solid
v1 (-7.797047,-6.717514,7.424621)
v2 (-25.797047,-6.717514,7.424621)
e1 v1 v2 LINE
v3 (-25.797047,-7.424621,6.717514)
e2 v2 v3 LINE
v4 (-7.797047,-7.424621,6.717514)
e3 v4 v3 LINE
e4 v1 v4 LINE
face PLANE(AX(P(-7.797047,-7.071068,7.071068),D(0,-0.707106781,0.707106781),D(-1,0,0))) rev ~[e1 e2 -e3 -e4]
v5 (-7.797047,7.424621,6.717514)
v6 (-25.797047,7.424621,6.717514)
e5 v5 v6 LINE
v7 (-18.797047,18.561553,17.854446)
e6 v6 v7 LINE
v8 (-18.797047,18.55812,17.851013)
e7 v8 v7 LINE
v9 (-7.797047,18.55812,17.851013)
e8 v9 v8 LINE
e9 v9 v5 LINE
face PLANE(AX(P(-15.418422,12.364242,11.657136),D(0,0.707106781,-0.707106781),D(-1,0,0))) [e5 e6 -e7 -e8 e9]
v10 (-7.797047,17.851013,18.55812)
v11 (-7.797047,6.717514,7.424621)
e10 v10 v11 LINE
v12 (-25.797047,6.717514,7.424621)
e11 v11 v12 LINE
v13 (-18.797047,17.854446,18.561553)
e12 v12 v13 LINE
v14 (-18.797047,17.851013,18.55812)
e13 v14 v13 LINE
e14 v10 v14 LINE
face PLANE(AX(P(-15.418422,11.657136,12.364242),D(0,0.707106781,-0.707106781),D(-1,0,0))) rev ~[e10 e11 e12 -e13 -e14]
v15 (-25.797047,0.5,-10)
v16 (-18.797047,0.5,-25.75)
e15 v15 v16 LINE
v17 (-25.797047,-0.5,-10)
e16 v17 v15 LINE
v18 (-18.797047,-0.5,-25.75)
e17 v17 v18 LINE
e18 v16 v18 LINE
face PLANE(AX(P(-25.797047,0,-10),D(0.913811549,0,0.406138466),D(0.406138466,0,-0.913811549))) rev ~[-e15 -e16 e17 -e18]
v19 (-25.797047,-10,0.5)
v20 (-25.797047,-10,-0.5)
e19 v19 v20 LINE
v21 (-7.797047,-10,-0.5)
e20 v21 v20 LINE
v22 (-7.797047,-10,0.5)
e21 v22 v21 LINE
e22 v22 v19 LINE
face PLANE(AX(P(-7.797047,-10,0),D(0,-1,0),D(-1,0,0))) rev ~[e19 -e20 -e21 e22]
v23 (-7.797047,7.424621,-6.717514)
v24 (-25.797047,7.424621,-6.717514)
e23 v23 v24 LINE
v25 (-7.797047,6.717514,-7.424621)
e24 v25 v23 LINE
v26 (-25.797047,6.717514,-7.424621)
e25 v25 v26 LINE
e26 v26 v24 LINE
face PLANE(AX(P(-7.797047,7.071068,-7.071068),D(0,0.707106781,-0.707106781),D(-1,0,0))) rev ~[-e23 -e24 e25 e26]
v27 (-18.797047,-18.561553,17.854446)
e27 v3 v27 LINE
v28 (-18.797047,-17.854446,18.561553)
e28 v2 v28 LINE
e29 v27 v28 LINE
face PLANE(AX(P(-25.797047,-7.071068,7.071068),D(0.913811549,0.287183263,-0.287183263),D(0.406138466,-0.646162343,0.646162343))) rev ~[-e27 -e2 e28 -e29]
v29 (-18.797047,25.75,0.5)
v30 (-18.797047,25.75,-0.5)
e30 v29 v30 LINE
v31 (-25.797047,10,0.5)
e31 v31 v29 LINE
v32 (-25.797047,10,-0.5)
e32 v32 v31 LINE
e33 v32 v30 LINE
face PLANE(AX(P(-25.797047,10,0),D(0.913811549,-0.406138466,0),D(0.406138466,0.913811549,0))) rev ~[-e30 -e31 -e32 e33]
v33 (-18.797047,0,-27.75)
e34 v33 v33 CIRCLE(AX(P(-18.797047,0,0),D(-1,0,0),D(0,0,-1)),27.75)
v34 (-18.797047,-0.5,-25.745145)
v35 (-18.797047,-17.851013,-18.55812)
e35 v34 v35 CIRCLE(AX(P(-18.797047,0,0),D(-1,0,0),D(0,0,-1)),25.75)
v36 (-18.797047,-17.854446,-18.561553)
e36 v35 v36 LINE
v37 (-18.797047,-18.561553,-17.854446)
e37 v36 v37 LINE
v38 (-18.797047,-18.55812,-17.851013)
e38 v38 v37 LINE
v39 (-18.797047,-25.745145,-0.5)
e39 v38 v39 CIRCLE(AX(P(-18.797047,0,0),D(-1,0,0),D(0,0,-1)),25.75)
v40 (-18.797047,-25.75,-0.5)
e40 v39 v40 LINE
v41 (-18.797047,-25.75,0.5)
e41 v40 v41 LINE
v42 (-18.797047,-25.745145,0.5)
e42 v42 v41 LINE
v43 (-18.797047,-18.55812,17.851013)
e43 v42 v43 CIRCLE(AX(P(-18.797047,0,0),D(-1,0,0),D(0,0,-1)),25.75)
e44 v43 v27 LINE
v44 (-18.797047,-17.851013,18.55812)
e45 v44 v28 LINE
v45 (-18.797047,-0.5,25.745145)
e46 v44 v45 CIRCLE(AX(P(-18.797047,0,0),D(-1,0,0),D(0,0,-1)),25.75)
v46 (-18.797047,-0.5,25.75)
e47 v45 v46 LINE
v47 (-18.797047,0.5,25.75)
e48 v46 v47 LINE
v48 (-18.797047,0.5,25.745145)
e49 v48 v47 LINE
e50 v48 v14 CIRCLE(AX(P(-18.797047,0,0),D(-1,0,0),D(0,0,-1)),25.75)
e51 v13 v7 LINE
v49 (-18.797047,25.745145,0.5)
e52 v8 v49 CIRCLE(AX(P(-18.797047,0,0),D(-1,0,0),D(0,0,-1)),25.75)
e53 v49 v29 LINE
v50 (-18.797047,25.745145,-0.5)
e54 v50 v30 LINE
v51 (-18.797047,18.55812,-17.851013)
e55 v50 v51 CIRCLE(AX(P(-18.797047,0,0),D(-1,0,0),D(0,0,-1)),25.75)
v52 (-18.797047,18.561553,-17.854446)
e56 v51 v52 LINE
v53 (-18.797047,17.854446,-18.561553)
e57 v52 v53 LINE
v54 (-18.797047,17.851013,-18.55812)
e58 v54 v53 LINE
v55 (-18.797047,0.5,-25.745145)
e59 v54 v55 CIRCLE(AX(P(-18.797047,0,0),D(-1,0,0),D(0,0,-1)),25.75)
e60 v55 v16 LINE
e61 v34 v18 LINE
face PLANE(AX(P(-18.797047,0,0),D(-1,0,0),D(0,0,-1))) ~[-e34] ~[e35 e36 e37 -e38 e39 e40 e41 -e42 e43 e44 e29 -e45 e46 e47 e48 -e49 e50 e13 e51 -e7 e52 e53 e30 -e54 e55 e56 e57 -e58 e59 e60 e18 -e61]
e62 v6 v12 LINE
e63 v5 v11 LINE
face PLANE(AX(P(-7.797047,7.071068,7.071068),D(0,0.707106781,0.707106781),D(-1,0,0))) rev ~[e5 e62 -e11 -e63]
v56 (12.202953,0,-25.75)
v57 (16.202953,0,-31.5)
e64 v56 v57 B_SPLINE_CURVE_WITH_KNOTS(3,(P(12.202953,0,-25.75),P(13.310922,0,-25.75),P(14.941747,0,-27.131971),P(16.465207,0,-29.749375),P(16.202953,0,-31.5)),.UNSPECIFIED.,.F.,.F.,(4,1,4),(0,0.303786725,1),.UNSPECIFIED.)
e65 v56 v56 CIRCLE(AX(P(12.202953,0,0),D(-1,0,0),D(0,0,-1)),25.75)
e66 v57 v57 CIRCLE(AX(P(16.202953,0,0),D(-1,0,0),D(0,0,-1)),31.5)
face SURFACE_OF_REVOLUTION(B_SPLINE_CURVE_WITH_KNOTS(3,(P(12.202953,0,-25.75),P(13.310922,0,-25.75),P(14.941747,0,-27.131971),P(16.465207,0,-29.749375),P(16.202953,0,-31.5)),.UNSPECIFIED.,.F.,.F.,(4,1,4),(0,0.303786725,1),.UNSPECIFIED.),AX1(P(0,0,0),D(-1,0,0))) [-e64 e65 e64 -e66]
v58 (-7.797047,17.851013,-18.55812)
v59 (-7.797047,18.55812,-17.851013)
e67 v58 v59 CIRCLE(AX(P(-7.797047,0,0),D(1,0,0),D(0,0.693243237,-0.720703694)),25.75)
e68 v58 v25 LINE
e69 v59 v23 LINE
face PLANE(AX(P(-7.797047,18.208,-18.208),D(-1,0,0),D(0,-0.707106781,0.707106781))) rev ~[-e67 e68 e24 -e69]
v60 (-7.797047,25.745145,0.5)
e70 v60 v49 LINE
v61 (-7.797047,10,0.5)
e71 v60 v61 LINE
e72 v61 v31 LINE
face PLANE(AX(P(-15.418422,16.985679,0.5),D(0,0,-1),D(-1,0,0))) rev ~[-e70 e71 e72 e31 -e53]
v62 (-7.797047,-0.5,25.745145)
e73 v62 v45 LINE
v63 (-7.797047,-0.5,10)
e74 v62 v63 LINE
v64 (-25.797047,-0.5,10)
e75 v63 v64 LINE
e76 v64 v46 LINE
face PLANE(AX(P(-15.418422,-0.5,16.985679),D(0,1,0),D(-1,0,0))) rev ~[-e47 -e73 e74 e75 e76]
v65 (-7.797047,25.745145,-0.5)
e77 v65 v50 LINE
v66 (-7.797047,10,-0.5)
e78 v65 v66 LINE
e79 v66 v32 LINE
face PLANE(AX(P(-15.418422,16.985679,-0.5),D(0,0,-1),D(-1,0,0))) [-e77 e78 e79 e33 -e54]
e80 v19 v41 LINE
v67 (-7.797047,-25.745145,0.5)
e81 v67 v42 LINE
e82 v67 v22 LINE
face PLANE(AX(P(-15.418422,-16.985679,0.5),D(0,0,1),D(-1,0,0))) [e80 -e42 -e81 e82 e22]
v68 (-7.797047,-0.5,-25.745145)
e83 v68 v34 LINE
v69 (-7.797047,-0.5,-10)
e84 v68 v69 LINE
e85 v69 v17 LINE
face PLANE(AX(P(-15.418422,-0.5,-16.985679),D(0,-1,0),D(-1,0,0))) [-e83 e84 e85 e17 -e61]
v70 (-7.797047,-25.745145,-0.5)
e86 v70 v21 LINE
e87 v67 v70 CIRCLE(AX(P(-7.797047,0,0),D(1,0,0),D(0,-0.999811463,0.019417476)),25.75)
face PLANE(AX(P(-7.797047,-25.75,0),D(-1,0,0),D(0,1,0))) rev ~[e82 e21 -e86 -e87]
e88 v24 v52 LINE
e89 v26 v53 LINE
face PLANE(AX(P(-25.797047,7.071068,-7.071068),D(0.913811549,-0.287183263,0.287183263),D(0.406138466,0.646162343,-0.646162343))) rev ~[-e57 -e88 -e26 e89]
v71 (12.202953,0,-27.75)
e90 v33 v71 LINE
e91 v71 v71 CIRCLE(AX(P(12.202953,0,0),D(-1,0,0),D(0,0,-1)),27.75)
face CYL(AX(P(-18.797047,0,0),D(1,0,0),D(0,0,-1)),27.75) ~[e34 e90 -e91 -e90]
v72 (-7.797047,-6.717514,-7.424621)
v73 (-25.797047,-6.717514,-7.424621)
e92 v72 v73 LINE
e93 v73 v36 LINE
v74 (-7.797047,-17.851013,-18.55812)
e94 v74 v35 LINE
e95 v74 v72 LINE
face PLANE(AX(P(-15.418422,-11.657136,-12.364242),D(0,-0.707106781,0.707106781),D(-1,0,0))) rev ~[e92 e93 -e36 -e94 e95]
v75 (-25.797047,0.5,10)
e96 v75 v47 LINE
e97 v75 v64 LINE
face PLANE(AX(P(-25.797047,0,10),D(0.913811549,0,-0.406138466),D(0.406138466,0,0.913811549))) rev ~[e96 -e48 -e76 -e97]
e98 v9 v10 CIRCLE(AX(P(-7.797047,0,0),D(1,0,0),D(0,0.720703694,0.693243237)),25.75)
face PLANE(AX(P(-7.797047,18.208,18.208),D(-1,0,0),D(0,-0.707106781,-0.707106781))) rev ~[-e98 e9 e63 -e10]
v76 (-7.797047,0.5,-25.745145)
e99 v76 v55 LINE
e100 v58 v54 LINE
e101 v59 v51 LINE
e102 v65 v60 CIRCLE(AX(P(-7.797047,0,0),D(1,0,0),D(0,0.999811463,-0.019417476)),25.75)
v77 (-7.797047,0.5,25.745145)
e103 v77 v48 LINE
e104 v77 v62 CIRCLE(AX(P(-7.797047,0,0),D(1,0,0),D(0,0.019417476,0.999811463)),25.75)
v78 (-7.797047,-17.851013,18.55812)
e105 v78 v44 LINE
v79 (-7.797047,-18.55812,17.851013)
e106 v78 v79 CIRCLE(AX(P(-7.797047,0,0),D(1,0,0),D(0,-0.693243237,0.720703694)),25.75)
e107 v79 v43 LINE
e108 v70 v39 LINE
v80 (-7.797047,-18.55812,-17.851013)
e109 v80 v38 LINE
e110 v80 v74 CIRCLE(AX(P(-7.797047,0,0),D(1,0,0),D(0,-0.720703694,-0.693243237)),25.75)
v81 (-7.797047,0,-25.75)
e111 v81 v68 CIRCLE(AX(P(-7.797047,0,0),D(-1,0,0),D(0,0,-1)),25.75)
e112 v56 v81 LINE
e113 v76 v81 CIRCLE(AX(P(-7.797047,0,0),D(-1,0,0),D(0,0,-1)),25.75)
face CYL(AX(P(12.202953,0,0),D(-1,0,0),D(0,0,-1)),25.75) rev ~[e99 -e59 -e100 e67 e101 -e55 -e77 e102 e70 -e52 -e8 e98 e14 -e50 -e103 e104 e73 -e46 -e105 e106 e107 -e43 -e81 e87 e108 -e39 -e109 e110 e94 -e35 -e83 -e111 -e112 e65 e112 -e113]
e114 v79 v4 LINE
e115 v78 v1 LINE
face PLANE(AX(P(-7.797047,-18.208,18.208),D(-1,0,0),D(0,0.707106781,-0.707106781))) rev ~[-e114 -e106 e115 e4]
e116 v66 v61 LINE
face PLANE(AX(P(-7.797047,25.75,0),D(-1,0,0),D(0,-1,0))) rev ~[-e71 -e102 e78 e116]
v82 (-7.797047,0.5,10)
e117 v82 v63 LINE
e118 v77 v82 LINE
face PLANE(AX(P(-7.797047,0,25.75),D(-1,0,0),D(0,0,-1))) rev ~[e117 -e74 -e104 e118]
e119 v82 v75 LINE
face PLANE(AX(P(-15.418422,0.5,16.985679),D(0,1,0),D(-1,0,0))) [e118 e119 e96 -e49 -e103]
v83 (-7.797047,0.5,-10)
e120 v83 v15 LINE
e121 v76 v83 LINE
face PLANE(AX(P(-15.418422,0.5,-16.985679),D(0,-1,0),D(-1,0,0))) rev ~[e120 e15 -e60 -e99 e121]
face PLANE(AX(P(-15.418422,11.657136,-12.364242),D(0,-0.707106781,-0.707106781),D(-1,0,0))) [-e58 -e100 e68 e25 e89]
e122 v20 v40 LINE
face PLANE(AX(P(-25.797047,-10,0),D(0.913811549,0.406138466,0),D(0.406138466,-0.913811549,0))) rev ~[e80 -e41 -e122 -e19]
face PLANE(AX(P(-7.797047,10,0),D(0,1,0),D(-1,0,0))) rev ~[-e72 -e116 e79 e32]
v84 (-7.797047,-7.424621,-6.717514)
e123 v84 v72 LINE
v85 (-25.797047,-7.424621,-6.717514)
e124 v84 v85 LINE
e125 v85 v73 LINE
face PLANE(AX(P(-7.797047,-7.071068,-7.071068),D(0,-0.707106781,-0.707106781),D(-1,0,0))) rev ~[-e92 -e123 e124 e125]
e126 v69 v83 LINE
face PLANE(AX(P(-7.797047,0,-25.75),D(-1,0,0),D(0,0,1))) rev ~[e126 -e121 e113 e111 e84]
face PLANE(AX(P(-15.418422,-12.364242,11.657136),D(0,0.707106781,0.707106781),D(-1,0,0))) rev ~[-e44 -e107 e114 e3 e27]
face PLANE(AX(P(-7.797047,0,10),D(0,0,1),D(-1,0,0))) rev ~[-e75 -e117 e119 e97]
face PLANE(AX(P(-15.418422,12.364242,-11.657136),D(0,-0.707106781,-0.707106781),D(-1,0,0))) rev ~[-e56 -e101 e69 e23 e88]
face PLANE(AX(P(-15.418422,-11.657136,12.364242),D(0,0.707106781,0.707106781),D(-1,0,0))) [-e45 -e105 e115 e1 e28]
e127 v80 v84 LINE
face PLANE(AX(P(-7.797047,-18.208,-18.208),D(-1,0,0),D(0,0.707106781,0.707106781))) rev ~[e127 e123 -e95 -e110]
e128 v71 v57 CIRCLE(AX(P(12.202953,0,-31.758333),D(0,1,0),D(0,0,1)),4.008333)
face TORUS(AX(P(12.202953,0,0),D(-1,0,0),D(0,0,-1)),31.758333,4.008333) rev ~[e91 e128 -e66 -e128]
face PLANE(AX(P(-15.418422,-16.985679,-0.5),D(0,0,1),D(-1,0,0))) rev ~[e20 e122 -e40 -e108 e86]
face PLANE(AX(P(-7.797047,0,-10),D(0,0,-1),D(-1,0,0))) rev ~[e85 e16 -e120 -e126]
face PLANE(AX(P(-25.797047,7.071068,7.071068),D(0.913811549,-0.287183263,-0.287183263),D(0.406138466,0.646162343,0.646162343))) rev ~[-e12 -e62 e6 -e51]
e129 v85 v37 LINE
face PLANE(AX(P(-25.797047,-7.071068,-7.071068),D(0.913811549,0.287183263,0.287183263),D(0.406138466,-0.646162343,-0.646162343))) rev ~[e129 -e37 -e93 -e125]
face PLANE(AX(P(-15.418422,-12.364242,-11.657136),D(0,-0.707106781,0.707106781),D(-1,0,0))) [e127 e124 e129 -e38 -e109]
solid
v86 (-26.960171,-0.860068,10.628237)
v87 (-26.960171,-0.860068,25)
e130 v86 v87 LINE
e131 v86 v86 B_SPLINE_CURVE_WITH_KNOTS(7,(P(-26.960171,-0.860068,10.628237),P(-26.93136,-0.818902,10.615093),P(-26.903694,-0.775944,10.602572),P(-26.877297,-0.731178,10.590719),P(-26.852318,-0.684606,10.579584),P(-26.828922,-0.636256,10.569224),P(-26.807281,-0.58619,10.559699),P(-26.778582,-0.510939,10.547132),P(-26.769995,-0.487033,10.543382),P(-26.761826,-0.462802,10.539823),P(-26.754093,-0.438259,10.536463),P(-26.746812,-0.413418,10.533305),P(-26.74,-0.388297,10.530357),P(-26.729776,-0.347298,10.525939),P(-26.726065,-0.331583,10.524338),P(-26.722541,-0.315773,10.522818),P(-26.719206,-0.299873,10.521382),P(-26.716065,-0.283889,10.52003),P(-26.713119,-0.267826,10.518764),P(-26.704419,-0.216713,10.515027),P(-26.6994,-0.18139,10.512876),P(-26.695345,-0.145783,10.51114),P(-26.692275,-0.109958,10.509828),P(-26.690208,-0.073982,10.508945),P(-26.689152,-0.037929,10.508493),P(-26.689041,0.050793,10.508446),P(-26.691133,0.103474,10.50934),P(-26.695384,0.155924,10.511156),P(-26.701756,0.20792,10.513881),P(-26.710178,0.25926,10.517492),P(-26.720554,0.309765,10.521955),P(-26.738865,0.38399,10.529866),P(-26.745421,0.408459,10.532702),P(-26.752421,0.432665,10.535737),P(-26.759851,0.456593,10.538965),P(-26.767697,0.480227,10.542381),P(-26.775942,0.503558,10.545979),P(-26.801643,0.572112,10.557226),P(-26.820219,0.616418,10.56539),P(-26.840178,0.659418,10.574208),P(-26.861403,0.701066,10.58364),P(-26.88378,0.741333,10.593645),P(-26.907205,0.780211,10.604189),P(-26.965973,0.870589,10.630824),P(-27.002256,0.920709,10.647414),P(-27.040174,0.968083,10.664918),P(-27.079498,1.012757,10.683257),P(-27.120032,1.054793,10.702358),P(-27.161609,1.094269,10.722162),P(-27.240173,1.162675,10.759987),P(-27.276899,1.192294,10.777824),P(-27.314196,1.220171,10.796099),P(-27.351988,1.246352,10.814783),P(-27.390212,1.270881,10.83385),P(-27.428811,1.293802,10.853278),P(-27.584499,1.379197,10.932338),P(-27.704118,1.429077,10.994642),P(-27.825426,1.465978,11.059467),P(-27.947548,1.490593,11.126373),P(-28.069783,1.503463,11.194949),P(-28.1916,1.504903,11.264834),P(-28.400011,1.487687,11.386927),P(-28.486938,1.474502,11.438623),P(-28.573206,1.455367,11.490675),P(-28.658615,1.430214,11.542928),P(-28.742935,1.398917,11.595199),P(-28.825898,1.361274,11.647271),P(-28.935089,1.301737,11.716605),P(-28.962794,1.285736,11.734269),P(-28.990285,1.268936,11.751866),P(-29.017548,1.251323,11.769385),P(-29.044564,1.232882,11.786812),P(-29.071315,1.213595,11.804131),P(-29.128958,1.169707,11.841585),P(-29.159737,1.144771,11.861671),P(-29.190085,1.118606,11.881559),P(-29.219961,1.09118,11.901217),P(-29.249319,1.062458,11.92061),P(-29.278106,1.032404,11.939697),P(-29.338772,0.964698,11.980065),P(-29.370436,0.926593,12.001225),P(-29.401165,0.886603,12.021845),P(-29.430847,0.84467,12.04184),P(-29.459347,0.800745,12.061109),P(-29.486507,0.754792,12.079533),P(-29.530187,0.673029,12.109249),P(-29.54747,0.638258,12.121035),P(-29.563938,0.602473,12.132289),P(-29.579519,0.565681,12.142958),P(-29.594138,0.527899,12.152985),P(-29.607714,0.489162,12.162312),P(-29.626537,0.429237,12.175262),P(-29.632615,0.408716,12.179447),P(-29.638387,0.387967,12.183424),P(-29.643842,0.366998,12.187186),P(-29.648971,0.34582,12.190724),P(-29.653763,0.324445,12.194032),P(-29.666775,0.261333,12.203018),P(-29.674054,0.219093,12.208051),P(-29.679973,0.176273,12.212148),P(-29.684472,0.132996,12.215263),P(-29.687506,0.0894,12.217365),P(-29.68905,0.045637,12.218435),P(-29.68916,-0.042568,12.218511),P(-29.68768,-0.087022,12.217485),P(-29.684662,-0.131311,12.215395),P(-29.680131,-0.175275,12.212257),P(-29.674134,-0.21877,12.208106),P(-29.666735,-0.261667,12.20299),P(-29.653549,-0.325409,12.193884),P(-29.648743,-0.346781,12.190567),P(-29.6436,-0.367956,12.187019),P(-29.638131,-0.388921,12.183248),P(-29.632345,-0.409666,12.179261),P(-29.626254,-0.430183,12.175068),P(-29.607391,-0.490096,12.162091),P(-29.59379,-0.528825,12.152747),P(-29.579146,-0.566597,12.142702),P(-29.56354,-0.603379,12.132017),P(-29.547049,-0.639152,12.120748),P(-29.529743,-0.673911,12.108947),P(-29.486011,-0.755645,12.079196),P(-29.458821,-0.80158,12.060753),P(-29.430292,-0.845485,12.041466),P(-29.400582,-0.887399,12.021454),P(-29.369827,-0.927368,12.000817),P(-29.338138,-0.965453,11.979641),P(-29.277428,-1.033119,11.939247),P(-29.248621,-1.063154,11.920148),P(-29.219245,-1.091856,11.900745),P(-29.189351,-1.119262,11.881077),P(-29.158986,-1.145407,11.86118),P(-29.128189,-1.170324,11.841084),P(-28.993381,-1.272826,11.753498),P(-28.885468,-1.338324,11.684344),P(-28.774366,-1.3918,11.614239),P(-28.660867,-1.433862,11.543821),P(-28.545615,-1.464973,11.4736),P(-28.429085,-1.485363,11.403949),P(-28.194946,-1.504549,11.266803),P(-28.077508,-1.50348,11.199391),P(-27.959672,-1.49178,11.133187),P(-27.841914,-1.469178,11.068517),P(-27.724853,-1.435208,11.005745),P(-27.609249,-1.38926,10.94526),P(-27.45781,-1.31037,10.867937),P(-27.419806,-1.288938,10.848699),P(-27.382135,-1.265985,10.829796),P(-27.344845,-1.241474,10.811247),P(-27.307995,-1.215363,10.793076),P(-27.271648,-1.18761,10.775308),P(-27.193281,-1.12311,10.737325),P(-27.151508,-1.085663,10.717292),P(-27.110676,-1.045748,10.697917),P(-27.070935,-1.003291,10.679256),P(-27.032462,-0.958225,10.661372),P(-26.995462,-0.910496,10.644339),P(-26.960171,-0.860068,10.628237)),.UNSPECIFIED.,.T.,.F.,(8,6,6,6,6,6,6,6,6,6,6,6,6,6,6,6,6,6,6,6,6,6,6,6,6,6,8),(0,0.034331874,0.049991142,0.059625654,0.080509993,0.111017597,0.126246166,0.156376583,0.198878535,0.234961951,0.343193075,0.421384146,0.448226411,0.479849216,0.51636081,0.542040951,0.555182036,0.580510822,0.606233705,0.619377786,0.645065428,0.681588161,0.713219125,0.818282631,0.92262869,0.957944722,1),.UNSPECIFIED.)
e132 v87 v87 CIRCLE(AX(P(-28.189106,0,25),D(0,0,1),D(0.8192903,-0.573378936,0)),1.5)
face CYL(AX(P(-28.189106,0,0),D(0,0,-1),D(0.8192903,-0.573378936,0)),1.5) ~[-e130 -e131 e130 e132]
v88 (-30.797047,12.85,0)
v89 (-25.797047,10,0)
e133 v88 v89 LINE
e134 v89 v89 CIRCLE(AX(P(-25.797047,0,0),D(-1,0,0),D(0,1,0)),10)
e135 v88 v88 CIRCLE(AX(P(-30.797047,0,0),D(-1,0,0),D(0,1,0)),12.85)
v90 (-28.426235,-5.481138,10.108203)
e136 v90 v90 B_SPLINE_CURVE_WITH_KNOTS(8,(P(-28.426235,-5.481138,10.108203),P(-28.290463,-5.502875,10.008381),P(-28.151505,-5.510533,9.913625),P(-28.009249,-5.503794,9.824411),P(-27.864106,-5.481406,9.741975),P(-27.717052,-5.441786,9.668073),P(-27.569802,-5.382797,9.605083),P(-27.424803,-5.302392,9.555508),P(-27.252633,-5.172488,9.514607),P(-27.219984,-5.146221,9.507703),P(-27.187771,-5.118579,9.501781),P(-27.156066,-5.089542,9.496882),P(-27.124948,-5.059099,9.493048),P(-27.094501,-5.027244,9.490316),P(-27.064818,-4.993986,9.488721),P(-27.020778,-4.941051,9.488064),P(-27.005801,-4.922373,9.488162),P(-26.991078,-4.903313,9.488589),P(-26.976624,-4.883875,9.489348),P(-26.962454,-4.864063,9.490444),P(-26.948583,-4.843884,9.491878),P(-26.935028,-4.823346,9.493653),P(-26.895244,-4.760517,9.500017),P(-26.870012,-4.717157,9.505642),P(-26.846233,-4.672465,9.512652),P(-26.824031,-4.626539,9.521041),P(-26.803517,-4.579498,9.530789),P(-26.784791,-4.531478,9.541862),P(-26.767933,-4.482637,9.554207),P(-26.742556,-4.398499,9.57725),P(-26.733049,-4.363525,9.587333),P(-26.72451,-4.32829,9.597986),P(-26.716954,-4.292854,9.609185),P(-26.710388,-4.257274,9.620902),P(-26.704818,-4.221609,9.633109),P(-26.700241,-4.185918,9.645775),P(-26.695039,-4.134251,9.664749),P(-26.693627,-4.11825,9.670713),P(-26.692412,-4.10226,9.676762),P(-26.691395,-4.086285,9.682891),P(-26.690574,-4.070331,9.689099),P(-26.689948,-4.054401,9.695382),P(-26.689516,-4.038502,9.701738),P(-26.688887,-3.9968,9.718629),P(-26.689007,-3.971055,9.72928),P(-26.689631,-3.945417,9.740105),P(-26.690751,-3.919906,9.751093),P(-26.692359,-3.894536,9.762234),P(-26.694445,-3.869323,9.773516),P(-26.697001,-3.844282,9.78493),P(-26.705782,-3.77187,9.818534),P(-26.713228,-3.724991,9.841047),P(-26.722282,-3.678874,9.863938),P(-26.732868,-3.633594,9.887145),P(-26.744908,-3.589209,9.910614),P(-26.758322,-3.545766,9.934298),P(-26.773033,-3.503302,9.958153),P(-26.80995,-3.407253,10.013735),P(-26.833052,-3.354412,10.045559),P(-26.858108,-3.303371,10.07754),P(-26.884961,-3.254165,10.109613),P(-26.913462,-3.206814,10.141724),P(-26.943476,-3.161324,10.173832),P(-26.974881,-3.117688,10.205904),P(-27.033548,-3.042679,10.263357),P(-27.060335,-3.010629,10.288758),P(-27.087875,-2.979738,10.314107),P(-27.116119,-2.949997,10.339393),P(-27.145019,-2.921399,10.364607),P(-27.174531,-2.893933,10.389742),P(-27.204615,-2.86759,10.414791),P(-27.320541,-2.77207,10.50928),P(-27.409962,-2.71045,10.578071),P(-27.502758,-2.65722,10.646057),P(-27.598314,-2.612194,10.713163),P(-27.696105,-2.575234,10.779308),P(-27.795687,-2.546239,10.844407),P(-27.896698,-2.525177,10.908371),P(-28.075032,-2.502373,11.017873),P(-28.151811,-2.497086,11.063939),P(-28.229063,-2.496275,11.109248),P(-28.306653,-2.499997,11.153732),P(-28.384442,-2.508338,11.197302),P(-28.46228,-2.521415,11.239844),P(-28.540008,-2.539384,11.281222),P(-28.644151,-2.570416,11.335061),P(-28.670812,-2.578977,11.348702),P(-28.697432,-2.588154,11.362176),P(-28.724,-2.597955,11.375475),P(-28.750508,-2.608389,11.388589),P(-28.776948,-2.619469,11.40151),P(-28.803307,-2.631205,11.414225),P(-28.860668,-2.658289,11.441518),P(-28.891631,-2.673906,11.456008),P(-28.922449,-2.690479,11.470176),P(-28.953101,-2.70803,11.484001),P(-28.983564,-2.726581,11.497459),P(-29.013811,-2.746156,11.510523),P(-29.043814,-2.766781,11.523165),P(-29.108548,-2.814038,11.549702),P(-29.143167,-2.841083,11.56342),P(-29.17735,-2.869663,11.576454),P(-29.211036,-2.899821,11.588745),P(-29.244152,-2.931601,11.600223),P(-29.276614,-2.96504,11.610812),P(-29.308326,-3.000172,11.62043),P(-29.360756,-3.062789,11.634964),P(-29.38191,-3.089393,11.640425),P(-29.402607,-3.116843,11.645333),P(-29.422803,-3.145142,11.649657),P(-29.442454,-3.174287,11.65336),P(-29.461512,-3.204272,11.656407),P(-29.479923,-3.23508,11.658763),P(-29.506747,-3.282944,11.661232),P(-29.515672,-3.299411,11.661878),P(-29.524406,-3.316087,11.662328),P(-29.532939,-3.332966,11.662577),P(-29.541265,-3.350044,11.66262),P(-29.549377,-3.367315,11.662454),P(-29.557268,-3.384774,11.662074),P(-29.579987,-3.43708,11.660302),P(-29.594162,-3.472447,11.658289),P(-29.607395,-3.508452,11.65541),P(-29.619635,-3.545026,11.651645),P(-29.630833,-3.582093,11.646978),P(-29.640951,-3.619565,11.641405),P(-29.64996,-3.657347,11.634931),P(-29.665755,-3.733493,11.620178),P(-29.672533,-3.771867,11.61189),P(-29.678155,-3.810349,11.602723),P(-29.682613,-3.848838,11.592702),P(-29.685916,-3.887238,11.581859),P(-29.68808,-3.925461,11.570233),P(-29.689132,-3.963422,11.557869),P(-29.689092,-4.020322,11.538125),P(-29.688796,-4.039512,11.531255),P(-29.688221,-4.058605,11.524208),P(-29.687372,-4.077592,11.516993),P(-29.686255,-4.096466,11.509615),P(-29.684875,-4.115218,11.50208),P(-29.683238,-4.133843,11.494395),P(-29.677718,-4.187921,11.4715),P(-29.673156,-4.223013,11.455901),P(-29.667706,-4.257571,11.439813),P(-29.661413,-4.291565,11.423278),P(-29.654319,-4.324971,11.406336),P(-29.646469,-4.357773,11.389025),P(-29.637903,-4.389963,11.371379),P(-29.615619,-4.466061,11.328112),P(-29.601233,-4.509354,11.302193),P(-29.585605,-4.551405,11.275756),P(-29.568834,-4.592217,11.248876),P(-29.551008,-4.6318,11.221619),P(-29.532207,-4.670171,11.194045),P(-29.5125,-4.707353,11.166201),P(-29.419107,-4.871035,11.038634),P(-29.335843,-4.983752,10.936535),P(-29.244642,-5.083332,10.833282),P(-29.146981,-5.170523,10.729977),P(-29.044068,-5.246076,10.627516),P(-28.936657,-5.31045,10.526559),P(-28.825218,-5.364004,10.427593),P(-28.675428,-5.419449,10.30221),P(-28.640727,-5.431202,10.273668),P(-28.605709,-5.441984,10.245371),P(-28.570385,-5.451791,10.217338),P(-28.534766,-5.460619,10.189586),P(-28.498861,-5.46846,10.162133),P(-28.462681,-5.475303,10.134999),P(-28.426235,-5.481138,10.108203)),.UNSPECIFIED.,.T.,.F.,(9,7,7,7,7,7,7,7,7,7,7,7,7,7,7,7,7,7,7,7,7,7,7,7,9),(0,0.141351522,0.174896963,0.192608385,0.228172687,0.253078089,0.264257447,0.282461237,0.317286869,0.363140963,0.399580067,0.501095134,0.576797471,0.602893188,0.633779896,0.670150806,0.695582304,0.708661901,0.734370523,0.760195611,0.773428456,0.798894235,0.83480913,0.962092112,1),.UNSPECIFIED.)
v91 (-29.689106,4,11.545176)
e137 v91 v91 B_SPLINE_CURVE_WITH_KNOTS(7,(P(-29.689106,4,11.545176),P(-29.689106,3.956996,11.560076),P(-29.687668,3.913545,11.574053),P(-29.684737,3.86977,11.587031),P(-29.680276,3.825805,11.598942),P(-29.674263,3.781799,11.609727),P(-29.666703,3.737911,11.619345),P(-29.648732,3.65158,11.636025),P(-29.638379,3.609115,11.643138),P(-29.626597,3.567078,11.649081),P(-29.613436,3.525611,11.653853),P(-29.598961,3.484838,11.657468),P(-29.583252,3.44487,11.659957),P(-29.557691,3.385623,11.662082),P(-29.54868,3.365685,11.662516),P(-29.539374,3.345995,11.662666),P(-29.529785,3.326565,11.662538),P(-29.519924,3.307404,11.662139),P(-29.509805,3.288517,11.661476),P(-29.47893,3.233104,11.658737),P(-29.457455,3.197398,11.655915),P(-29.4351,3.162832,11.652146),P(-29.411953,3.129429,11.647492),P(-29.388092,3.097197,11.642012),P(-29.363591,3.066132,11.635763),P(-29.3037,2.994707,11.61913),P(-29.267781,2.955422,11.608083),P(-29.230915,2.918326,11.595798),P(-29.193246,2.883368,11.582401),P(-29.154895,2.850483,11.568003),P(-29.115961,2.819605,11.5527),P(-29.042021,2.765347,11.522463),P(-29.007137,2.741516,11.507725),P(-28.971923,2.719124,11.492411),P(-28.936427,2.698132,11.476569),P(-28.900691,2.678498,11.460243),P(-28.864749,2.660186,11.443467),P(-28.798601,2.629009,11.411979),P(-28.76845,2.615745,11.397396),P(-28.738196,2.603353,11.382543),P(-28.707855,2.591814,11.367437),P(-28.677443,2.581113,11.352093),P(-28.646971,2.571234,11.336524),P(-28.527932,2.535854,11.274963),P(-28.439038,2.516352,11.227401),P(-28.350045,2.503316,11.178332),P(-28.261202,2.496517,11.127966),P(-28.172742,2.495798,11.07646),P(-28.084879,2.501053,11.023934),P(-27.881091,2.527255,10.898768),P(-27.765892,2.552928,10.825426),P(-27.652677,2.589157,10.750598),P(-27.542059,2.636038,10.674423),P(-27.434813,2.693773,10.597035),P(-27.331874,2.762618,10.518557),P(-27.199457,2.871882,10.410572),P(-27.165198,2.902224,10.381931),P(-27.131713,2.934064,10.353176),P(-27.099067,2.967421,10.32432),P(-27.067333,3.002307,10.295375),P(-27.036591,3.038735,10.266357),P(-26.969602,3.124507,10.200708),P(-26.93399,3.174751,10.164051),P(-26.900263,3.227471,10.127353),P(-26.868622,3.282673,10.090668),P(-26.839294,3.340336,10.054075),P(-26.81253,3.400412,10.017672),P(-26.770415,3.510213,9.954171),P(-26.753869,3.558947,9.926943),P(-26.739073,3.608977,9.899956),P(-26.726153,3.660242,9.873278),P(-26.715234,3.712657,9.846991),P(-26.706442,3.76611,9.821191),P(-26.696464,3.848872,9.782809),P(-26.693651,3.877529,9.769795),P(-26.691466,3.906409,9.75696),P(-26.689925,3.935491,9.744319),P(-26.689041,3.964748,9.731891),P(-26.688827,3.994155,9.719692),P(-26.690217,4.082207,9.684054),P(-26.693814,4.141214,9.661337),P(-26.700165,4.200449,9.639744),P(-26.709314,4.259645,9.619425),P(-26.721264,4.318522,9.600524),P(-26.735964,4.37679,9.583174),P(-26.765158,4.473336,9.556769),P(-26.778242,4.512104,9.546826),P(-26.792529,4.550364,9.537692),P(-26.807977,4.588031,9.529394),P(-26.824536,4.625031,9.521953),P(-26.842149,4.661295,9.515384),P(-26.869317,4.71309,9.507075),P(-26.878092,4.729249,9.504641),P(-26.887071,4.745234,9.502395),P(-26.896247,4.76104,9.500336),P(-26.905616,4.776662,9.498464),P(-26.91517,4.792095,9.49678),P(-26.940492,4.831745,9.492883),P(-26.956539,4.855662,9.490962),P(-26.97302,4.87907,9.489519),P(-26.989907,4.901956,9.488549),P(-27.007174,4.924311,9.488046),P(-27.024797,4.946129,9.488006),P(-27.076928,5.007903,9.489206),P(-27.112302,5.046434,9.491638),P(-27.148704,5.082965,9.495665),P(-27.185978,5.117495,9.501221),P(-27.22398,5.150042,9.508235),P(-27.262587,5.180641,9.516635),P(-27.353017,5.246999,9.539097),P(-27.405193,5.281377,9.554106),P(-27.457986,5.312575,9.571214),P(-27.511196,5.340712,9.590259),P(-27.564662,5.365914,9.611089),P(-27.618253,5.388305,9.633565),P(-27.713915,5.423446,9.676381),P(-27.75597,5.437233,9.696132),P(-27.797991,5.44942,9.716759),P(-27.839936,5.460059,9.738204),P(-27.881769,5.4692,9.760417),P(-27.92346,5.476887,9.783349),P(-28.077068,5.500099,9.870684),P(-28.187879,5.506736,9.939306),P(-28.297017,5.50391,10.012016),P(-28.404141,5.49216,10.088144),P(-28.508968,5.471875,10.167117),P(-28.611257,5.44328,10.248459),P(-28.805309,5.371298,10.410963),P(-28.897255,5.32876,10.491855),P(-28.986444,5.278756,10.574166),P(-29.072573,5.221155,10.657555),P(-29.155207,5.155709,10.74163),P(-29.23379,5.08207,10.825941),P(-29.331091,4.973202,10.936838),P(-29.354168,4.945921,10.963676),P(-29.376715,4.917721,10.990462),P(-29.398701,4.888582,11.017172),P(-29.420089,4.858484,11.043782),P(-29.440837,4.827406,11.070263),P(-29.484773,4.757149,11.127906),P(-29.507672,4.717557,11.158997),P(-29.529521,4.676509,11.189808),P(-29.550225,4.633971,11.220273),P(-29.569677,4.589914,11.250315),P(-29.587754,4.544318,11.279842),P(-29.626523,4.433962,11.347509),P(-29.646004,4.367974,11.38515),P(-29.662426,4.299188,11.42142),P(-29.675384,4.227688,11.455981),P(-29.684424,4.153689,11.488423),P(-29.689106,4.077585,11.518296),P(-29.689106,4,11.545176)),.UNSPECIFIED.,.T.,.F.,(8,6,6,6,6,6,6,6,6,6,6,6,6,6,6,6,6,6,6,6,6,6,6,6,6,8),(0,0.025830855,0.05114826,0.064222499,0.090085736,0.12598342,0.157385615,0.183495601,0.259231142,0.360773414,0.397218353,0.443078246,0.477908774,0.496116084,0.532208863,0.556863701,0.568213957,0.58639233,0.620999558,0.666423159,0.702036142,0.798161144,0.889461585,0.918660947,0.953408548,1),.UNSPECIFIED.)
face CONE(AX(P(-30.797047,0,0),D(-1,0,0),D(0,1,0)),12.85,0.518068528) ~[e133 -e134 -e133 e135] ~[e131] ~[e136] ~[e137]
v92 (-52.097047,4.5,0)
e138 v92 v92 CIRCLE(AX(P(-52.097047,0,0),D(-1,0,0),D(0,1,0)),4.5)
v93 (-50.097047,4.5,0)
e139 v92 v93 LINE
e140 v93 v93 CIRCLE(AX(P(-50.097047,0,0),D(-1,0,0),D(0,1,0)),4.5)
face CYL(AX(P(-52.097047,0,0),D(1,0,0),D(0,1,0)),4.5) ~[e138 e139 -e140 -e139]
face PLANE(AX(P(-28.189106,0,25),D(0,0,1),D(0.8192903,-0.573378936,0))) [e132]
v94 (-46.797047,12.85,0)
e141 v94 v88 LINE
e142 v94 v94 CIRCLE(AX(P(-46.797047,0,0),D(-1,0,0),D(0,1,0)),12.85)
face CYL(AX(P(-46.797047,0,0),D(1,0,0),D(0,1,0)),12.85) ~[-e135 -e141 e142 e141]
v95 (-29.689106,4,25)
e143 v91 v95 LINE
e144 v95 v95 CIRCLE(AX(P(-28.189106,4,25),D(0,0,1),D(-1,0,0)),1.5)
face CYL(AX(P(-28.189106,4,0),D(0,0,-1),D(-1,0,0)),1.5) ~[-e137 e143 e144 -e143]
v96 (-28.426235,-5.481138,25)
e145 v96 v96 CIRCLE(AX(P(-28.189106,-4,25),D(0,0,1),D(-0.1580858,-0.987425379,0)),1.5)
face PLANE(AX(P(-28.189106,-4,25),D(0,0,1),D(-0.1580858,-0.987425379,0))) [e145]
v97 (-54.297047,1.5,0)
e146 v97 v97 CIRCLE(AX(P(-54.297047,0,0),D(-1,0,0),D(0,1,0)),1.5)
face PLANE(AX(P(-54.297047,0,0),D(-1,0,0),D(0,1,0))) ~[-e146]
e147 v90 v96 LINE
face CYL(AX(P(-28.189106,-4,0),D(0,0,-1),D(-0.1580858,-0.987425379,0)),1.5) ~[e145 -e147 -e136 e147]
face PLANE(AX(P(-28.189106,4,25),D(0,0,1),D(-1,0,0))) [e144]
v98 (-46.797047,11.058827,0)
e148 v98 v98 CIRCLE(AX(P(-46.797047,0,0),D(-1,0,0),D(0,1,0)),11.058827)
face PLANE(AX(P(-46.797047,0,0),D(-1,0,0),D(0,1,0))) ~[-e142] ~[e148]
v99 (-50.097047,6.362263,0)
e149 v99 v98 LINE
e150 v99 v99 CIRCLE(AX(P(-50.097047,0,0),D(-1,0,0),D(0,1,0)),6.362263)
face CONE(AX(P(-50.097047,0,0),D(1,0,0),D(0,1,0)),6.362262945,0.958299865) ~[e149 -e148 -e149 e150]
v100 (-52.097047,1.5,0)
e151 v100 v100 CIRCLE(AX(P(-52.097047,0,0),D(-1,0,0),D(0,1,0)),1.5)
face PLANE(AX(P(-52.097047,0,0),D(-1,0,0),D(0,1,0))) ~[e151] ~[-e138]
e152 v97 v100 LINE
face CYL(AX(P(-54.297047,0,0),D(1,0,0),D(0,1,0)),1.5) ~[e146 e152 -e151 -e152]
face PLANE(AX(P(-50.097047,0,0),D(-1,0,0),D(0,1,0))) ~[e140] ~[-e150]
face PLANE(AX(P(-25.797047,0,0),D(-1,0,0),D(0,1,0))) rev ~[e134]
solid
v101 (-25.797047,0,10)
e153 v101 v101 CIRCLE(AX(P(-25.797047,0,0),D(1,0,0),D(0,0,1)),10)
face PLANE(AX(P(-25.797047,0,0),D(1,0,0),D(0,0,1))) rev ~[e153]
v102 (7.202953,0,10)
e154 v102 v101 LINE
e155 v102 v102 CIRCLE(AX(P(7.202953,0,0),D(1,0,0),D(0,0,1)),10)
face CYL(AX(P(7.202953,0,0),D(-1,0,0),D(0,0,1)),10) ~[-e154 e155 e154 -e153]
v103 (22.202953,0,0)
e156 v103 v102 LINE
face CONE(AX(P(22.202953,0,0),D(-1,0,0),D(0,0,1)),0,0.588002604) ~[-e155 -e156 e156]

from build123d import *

# Parameters (mm, degrees)
BOSS_EXTRU_1_DEPTH           = 0.5
R_P_TITION_CIRCULAIRE1_COUNT = 8
ESQUISSE5_R                  = 1.5
BOSS_EXTRU_2_DEPTH           = 25


with BuildPart() as part:
    # Esquisse1 → Révolution1 (revolve)
    with BuildSketch(Plane.XY, mode=Mode.PRIVATE) as r_volution1_sk:
        with BuildLine():
            Line((-18.797047196, 27.75), (12.202952804, 27.75))
            ThreePointArc((12.202952804, 27.75), (14.944416829, 28.83410504), (16.202952804, 31.5))
            add(Edge.make_bspline(
                [(12.202952804, 25.75), (13.310921502, 25.75), (14.941747161, 27.131971286), (16.465207227, 29.749374737), (16.202952804, 31.5)],
                knots=[0, 0, 0, 0, 0.303786725, 1, 1, 1, 1], degree=3))
            Line((12.202952804, 25.75), (-18.797047196, 25.75))
            Line((-18.797047196, 25.75), (-18.797047196, 27.75))
        make_face()
    revolve(r_volution1_sk.sketch.rotate(Axis((0, 0, 0), (-1, 0, 0)), 90), axis=Axis((0, 0, 0), (-1, 0, 0)))

    # Esquisse3 → Boss.-Extru.1 (add, symmetric)
    with BuildSketch(Plane.XY):
        Polygon((-25.797047196, 10), (-18.797047196, 25.75), (-7.797047196, 25.75), (-7.797047196, 10), align=None)
    boss_extru_1 = extrude(amount=BOSS_EXTRU_1_DEPTH, both=True)

    # Répétition circulaire1: Boss.-Extru.1 ×8 about axis
    r_p_tition_circulaire1_axis = Axis((0, 0, 0), (1, 0, 0))
    for i in range(1, R_P_TITION_CIRCULAIRE1_COUNT):
        add(boss_extru_1.rotate(r_p_tition_circulaire1_axis, i * 360 / R_P_TITION_CIRCULAIRE1_COUNT))


with BuildPart() as body_2:
    # Esquisse2 → Révolution2 (revolve)
    with BuildSketch(Plane.XY, mode=Mode.PRIVATE) as r_volution2_sk:
        Polygon((22.202952804, 0), (7.202952804, 10), (-25.797047196, 10), (-25.797047196, 0), (7.202952804, 0), align=None)
    revolve(r_volution2_sk.sketch.rotate(Axis((7.202952804, 0, 0), (1, 0, 0)), 90), axis=Axis((7.202952804, 0, 0), (1, 0, 0)))


with BuildPart() as body_3:
    # Esquisse4 → Révolution3 (revolve)
    with BuildSketch(Plane.XY):
        Polygon((-54.297047196, 0), (-54.297047196, 1.5), (-52.097047196, 1.5), (-52.097047196, 4.5), (-50.097047196, 4.5), (-50.097047196, 6.362262945), (-46.797047196, 11.058827063), (-46.797047196, 12.85), (-30.797047196, 12.85), (-25.797047196, 10), (-25.797047196, 0), align=None)
    revolve(axis=Axis((0, 0, 0), (-1, 0, 0)))

    # Esquisse5 → Boss.-Extru.2 (add)
    with BuildSketch(Plane.XY):
        with Locations(Location((-28.189106073, 0, 0), (0, 0, 325.013813059))):
            Circle(ESQUISSE5_R)
        with Locations(Location((-28.189106073, -4, 0), (0, 0, 260.904193344))):
            Circle(ESQUISSE5_R)
        with Locations(Location((-28.189106073, 4, 0), (0, 0, 180))):
            Circle(ESQUISSE5_R)
    extrude(amount=BOSS_EXTRU_2_DEPTH)


solid = Compound([part.part, body_2.part, body_3.part])
